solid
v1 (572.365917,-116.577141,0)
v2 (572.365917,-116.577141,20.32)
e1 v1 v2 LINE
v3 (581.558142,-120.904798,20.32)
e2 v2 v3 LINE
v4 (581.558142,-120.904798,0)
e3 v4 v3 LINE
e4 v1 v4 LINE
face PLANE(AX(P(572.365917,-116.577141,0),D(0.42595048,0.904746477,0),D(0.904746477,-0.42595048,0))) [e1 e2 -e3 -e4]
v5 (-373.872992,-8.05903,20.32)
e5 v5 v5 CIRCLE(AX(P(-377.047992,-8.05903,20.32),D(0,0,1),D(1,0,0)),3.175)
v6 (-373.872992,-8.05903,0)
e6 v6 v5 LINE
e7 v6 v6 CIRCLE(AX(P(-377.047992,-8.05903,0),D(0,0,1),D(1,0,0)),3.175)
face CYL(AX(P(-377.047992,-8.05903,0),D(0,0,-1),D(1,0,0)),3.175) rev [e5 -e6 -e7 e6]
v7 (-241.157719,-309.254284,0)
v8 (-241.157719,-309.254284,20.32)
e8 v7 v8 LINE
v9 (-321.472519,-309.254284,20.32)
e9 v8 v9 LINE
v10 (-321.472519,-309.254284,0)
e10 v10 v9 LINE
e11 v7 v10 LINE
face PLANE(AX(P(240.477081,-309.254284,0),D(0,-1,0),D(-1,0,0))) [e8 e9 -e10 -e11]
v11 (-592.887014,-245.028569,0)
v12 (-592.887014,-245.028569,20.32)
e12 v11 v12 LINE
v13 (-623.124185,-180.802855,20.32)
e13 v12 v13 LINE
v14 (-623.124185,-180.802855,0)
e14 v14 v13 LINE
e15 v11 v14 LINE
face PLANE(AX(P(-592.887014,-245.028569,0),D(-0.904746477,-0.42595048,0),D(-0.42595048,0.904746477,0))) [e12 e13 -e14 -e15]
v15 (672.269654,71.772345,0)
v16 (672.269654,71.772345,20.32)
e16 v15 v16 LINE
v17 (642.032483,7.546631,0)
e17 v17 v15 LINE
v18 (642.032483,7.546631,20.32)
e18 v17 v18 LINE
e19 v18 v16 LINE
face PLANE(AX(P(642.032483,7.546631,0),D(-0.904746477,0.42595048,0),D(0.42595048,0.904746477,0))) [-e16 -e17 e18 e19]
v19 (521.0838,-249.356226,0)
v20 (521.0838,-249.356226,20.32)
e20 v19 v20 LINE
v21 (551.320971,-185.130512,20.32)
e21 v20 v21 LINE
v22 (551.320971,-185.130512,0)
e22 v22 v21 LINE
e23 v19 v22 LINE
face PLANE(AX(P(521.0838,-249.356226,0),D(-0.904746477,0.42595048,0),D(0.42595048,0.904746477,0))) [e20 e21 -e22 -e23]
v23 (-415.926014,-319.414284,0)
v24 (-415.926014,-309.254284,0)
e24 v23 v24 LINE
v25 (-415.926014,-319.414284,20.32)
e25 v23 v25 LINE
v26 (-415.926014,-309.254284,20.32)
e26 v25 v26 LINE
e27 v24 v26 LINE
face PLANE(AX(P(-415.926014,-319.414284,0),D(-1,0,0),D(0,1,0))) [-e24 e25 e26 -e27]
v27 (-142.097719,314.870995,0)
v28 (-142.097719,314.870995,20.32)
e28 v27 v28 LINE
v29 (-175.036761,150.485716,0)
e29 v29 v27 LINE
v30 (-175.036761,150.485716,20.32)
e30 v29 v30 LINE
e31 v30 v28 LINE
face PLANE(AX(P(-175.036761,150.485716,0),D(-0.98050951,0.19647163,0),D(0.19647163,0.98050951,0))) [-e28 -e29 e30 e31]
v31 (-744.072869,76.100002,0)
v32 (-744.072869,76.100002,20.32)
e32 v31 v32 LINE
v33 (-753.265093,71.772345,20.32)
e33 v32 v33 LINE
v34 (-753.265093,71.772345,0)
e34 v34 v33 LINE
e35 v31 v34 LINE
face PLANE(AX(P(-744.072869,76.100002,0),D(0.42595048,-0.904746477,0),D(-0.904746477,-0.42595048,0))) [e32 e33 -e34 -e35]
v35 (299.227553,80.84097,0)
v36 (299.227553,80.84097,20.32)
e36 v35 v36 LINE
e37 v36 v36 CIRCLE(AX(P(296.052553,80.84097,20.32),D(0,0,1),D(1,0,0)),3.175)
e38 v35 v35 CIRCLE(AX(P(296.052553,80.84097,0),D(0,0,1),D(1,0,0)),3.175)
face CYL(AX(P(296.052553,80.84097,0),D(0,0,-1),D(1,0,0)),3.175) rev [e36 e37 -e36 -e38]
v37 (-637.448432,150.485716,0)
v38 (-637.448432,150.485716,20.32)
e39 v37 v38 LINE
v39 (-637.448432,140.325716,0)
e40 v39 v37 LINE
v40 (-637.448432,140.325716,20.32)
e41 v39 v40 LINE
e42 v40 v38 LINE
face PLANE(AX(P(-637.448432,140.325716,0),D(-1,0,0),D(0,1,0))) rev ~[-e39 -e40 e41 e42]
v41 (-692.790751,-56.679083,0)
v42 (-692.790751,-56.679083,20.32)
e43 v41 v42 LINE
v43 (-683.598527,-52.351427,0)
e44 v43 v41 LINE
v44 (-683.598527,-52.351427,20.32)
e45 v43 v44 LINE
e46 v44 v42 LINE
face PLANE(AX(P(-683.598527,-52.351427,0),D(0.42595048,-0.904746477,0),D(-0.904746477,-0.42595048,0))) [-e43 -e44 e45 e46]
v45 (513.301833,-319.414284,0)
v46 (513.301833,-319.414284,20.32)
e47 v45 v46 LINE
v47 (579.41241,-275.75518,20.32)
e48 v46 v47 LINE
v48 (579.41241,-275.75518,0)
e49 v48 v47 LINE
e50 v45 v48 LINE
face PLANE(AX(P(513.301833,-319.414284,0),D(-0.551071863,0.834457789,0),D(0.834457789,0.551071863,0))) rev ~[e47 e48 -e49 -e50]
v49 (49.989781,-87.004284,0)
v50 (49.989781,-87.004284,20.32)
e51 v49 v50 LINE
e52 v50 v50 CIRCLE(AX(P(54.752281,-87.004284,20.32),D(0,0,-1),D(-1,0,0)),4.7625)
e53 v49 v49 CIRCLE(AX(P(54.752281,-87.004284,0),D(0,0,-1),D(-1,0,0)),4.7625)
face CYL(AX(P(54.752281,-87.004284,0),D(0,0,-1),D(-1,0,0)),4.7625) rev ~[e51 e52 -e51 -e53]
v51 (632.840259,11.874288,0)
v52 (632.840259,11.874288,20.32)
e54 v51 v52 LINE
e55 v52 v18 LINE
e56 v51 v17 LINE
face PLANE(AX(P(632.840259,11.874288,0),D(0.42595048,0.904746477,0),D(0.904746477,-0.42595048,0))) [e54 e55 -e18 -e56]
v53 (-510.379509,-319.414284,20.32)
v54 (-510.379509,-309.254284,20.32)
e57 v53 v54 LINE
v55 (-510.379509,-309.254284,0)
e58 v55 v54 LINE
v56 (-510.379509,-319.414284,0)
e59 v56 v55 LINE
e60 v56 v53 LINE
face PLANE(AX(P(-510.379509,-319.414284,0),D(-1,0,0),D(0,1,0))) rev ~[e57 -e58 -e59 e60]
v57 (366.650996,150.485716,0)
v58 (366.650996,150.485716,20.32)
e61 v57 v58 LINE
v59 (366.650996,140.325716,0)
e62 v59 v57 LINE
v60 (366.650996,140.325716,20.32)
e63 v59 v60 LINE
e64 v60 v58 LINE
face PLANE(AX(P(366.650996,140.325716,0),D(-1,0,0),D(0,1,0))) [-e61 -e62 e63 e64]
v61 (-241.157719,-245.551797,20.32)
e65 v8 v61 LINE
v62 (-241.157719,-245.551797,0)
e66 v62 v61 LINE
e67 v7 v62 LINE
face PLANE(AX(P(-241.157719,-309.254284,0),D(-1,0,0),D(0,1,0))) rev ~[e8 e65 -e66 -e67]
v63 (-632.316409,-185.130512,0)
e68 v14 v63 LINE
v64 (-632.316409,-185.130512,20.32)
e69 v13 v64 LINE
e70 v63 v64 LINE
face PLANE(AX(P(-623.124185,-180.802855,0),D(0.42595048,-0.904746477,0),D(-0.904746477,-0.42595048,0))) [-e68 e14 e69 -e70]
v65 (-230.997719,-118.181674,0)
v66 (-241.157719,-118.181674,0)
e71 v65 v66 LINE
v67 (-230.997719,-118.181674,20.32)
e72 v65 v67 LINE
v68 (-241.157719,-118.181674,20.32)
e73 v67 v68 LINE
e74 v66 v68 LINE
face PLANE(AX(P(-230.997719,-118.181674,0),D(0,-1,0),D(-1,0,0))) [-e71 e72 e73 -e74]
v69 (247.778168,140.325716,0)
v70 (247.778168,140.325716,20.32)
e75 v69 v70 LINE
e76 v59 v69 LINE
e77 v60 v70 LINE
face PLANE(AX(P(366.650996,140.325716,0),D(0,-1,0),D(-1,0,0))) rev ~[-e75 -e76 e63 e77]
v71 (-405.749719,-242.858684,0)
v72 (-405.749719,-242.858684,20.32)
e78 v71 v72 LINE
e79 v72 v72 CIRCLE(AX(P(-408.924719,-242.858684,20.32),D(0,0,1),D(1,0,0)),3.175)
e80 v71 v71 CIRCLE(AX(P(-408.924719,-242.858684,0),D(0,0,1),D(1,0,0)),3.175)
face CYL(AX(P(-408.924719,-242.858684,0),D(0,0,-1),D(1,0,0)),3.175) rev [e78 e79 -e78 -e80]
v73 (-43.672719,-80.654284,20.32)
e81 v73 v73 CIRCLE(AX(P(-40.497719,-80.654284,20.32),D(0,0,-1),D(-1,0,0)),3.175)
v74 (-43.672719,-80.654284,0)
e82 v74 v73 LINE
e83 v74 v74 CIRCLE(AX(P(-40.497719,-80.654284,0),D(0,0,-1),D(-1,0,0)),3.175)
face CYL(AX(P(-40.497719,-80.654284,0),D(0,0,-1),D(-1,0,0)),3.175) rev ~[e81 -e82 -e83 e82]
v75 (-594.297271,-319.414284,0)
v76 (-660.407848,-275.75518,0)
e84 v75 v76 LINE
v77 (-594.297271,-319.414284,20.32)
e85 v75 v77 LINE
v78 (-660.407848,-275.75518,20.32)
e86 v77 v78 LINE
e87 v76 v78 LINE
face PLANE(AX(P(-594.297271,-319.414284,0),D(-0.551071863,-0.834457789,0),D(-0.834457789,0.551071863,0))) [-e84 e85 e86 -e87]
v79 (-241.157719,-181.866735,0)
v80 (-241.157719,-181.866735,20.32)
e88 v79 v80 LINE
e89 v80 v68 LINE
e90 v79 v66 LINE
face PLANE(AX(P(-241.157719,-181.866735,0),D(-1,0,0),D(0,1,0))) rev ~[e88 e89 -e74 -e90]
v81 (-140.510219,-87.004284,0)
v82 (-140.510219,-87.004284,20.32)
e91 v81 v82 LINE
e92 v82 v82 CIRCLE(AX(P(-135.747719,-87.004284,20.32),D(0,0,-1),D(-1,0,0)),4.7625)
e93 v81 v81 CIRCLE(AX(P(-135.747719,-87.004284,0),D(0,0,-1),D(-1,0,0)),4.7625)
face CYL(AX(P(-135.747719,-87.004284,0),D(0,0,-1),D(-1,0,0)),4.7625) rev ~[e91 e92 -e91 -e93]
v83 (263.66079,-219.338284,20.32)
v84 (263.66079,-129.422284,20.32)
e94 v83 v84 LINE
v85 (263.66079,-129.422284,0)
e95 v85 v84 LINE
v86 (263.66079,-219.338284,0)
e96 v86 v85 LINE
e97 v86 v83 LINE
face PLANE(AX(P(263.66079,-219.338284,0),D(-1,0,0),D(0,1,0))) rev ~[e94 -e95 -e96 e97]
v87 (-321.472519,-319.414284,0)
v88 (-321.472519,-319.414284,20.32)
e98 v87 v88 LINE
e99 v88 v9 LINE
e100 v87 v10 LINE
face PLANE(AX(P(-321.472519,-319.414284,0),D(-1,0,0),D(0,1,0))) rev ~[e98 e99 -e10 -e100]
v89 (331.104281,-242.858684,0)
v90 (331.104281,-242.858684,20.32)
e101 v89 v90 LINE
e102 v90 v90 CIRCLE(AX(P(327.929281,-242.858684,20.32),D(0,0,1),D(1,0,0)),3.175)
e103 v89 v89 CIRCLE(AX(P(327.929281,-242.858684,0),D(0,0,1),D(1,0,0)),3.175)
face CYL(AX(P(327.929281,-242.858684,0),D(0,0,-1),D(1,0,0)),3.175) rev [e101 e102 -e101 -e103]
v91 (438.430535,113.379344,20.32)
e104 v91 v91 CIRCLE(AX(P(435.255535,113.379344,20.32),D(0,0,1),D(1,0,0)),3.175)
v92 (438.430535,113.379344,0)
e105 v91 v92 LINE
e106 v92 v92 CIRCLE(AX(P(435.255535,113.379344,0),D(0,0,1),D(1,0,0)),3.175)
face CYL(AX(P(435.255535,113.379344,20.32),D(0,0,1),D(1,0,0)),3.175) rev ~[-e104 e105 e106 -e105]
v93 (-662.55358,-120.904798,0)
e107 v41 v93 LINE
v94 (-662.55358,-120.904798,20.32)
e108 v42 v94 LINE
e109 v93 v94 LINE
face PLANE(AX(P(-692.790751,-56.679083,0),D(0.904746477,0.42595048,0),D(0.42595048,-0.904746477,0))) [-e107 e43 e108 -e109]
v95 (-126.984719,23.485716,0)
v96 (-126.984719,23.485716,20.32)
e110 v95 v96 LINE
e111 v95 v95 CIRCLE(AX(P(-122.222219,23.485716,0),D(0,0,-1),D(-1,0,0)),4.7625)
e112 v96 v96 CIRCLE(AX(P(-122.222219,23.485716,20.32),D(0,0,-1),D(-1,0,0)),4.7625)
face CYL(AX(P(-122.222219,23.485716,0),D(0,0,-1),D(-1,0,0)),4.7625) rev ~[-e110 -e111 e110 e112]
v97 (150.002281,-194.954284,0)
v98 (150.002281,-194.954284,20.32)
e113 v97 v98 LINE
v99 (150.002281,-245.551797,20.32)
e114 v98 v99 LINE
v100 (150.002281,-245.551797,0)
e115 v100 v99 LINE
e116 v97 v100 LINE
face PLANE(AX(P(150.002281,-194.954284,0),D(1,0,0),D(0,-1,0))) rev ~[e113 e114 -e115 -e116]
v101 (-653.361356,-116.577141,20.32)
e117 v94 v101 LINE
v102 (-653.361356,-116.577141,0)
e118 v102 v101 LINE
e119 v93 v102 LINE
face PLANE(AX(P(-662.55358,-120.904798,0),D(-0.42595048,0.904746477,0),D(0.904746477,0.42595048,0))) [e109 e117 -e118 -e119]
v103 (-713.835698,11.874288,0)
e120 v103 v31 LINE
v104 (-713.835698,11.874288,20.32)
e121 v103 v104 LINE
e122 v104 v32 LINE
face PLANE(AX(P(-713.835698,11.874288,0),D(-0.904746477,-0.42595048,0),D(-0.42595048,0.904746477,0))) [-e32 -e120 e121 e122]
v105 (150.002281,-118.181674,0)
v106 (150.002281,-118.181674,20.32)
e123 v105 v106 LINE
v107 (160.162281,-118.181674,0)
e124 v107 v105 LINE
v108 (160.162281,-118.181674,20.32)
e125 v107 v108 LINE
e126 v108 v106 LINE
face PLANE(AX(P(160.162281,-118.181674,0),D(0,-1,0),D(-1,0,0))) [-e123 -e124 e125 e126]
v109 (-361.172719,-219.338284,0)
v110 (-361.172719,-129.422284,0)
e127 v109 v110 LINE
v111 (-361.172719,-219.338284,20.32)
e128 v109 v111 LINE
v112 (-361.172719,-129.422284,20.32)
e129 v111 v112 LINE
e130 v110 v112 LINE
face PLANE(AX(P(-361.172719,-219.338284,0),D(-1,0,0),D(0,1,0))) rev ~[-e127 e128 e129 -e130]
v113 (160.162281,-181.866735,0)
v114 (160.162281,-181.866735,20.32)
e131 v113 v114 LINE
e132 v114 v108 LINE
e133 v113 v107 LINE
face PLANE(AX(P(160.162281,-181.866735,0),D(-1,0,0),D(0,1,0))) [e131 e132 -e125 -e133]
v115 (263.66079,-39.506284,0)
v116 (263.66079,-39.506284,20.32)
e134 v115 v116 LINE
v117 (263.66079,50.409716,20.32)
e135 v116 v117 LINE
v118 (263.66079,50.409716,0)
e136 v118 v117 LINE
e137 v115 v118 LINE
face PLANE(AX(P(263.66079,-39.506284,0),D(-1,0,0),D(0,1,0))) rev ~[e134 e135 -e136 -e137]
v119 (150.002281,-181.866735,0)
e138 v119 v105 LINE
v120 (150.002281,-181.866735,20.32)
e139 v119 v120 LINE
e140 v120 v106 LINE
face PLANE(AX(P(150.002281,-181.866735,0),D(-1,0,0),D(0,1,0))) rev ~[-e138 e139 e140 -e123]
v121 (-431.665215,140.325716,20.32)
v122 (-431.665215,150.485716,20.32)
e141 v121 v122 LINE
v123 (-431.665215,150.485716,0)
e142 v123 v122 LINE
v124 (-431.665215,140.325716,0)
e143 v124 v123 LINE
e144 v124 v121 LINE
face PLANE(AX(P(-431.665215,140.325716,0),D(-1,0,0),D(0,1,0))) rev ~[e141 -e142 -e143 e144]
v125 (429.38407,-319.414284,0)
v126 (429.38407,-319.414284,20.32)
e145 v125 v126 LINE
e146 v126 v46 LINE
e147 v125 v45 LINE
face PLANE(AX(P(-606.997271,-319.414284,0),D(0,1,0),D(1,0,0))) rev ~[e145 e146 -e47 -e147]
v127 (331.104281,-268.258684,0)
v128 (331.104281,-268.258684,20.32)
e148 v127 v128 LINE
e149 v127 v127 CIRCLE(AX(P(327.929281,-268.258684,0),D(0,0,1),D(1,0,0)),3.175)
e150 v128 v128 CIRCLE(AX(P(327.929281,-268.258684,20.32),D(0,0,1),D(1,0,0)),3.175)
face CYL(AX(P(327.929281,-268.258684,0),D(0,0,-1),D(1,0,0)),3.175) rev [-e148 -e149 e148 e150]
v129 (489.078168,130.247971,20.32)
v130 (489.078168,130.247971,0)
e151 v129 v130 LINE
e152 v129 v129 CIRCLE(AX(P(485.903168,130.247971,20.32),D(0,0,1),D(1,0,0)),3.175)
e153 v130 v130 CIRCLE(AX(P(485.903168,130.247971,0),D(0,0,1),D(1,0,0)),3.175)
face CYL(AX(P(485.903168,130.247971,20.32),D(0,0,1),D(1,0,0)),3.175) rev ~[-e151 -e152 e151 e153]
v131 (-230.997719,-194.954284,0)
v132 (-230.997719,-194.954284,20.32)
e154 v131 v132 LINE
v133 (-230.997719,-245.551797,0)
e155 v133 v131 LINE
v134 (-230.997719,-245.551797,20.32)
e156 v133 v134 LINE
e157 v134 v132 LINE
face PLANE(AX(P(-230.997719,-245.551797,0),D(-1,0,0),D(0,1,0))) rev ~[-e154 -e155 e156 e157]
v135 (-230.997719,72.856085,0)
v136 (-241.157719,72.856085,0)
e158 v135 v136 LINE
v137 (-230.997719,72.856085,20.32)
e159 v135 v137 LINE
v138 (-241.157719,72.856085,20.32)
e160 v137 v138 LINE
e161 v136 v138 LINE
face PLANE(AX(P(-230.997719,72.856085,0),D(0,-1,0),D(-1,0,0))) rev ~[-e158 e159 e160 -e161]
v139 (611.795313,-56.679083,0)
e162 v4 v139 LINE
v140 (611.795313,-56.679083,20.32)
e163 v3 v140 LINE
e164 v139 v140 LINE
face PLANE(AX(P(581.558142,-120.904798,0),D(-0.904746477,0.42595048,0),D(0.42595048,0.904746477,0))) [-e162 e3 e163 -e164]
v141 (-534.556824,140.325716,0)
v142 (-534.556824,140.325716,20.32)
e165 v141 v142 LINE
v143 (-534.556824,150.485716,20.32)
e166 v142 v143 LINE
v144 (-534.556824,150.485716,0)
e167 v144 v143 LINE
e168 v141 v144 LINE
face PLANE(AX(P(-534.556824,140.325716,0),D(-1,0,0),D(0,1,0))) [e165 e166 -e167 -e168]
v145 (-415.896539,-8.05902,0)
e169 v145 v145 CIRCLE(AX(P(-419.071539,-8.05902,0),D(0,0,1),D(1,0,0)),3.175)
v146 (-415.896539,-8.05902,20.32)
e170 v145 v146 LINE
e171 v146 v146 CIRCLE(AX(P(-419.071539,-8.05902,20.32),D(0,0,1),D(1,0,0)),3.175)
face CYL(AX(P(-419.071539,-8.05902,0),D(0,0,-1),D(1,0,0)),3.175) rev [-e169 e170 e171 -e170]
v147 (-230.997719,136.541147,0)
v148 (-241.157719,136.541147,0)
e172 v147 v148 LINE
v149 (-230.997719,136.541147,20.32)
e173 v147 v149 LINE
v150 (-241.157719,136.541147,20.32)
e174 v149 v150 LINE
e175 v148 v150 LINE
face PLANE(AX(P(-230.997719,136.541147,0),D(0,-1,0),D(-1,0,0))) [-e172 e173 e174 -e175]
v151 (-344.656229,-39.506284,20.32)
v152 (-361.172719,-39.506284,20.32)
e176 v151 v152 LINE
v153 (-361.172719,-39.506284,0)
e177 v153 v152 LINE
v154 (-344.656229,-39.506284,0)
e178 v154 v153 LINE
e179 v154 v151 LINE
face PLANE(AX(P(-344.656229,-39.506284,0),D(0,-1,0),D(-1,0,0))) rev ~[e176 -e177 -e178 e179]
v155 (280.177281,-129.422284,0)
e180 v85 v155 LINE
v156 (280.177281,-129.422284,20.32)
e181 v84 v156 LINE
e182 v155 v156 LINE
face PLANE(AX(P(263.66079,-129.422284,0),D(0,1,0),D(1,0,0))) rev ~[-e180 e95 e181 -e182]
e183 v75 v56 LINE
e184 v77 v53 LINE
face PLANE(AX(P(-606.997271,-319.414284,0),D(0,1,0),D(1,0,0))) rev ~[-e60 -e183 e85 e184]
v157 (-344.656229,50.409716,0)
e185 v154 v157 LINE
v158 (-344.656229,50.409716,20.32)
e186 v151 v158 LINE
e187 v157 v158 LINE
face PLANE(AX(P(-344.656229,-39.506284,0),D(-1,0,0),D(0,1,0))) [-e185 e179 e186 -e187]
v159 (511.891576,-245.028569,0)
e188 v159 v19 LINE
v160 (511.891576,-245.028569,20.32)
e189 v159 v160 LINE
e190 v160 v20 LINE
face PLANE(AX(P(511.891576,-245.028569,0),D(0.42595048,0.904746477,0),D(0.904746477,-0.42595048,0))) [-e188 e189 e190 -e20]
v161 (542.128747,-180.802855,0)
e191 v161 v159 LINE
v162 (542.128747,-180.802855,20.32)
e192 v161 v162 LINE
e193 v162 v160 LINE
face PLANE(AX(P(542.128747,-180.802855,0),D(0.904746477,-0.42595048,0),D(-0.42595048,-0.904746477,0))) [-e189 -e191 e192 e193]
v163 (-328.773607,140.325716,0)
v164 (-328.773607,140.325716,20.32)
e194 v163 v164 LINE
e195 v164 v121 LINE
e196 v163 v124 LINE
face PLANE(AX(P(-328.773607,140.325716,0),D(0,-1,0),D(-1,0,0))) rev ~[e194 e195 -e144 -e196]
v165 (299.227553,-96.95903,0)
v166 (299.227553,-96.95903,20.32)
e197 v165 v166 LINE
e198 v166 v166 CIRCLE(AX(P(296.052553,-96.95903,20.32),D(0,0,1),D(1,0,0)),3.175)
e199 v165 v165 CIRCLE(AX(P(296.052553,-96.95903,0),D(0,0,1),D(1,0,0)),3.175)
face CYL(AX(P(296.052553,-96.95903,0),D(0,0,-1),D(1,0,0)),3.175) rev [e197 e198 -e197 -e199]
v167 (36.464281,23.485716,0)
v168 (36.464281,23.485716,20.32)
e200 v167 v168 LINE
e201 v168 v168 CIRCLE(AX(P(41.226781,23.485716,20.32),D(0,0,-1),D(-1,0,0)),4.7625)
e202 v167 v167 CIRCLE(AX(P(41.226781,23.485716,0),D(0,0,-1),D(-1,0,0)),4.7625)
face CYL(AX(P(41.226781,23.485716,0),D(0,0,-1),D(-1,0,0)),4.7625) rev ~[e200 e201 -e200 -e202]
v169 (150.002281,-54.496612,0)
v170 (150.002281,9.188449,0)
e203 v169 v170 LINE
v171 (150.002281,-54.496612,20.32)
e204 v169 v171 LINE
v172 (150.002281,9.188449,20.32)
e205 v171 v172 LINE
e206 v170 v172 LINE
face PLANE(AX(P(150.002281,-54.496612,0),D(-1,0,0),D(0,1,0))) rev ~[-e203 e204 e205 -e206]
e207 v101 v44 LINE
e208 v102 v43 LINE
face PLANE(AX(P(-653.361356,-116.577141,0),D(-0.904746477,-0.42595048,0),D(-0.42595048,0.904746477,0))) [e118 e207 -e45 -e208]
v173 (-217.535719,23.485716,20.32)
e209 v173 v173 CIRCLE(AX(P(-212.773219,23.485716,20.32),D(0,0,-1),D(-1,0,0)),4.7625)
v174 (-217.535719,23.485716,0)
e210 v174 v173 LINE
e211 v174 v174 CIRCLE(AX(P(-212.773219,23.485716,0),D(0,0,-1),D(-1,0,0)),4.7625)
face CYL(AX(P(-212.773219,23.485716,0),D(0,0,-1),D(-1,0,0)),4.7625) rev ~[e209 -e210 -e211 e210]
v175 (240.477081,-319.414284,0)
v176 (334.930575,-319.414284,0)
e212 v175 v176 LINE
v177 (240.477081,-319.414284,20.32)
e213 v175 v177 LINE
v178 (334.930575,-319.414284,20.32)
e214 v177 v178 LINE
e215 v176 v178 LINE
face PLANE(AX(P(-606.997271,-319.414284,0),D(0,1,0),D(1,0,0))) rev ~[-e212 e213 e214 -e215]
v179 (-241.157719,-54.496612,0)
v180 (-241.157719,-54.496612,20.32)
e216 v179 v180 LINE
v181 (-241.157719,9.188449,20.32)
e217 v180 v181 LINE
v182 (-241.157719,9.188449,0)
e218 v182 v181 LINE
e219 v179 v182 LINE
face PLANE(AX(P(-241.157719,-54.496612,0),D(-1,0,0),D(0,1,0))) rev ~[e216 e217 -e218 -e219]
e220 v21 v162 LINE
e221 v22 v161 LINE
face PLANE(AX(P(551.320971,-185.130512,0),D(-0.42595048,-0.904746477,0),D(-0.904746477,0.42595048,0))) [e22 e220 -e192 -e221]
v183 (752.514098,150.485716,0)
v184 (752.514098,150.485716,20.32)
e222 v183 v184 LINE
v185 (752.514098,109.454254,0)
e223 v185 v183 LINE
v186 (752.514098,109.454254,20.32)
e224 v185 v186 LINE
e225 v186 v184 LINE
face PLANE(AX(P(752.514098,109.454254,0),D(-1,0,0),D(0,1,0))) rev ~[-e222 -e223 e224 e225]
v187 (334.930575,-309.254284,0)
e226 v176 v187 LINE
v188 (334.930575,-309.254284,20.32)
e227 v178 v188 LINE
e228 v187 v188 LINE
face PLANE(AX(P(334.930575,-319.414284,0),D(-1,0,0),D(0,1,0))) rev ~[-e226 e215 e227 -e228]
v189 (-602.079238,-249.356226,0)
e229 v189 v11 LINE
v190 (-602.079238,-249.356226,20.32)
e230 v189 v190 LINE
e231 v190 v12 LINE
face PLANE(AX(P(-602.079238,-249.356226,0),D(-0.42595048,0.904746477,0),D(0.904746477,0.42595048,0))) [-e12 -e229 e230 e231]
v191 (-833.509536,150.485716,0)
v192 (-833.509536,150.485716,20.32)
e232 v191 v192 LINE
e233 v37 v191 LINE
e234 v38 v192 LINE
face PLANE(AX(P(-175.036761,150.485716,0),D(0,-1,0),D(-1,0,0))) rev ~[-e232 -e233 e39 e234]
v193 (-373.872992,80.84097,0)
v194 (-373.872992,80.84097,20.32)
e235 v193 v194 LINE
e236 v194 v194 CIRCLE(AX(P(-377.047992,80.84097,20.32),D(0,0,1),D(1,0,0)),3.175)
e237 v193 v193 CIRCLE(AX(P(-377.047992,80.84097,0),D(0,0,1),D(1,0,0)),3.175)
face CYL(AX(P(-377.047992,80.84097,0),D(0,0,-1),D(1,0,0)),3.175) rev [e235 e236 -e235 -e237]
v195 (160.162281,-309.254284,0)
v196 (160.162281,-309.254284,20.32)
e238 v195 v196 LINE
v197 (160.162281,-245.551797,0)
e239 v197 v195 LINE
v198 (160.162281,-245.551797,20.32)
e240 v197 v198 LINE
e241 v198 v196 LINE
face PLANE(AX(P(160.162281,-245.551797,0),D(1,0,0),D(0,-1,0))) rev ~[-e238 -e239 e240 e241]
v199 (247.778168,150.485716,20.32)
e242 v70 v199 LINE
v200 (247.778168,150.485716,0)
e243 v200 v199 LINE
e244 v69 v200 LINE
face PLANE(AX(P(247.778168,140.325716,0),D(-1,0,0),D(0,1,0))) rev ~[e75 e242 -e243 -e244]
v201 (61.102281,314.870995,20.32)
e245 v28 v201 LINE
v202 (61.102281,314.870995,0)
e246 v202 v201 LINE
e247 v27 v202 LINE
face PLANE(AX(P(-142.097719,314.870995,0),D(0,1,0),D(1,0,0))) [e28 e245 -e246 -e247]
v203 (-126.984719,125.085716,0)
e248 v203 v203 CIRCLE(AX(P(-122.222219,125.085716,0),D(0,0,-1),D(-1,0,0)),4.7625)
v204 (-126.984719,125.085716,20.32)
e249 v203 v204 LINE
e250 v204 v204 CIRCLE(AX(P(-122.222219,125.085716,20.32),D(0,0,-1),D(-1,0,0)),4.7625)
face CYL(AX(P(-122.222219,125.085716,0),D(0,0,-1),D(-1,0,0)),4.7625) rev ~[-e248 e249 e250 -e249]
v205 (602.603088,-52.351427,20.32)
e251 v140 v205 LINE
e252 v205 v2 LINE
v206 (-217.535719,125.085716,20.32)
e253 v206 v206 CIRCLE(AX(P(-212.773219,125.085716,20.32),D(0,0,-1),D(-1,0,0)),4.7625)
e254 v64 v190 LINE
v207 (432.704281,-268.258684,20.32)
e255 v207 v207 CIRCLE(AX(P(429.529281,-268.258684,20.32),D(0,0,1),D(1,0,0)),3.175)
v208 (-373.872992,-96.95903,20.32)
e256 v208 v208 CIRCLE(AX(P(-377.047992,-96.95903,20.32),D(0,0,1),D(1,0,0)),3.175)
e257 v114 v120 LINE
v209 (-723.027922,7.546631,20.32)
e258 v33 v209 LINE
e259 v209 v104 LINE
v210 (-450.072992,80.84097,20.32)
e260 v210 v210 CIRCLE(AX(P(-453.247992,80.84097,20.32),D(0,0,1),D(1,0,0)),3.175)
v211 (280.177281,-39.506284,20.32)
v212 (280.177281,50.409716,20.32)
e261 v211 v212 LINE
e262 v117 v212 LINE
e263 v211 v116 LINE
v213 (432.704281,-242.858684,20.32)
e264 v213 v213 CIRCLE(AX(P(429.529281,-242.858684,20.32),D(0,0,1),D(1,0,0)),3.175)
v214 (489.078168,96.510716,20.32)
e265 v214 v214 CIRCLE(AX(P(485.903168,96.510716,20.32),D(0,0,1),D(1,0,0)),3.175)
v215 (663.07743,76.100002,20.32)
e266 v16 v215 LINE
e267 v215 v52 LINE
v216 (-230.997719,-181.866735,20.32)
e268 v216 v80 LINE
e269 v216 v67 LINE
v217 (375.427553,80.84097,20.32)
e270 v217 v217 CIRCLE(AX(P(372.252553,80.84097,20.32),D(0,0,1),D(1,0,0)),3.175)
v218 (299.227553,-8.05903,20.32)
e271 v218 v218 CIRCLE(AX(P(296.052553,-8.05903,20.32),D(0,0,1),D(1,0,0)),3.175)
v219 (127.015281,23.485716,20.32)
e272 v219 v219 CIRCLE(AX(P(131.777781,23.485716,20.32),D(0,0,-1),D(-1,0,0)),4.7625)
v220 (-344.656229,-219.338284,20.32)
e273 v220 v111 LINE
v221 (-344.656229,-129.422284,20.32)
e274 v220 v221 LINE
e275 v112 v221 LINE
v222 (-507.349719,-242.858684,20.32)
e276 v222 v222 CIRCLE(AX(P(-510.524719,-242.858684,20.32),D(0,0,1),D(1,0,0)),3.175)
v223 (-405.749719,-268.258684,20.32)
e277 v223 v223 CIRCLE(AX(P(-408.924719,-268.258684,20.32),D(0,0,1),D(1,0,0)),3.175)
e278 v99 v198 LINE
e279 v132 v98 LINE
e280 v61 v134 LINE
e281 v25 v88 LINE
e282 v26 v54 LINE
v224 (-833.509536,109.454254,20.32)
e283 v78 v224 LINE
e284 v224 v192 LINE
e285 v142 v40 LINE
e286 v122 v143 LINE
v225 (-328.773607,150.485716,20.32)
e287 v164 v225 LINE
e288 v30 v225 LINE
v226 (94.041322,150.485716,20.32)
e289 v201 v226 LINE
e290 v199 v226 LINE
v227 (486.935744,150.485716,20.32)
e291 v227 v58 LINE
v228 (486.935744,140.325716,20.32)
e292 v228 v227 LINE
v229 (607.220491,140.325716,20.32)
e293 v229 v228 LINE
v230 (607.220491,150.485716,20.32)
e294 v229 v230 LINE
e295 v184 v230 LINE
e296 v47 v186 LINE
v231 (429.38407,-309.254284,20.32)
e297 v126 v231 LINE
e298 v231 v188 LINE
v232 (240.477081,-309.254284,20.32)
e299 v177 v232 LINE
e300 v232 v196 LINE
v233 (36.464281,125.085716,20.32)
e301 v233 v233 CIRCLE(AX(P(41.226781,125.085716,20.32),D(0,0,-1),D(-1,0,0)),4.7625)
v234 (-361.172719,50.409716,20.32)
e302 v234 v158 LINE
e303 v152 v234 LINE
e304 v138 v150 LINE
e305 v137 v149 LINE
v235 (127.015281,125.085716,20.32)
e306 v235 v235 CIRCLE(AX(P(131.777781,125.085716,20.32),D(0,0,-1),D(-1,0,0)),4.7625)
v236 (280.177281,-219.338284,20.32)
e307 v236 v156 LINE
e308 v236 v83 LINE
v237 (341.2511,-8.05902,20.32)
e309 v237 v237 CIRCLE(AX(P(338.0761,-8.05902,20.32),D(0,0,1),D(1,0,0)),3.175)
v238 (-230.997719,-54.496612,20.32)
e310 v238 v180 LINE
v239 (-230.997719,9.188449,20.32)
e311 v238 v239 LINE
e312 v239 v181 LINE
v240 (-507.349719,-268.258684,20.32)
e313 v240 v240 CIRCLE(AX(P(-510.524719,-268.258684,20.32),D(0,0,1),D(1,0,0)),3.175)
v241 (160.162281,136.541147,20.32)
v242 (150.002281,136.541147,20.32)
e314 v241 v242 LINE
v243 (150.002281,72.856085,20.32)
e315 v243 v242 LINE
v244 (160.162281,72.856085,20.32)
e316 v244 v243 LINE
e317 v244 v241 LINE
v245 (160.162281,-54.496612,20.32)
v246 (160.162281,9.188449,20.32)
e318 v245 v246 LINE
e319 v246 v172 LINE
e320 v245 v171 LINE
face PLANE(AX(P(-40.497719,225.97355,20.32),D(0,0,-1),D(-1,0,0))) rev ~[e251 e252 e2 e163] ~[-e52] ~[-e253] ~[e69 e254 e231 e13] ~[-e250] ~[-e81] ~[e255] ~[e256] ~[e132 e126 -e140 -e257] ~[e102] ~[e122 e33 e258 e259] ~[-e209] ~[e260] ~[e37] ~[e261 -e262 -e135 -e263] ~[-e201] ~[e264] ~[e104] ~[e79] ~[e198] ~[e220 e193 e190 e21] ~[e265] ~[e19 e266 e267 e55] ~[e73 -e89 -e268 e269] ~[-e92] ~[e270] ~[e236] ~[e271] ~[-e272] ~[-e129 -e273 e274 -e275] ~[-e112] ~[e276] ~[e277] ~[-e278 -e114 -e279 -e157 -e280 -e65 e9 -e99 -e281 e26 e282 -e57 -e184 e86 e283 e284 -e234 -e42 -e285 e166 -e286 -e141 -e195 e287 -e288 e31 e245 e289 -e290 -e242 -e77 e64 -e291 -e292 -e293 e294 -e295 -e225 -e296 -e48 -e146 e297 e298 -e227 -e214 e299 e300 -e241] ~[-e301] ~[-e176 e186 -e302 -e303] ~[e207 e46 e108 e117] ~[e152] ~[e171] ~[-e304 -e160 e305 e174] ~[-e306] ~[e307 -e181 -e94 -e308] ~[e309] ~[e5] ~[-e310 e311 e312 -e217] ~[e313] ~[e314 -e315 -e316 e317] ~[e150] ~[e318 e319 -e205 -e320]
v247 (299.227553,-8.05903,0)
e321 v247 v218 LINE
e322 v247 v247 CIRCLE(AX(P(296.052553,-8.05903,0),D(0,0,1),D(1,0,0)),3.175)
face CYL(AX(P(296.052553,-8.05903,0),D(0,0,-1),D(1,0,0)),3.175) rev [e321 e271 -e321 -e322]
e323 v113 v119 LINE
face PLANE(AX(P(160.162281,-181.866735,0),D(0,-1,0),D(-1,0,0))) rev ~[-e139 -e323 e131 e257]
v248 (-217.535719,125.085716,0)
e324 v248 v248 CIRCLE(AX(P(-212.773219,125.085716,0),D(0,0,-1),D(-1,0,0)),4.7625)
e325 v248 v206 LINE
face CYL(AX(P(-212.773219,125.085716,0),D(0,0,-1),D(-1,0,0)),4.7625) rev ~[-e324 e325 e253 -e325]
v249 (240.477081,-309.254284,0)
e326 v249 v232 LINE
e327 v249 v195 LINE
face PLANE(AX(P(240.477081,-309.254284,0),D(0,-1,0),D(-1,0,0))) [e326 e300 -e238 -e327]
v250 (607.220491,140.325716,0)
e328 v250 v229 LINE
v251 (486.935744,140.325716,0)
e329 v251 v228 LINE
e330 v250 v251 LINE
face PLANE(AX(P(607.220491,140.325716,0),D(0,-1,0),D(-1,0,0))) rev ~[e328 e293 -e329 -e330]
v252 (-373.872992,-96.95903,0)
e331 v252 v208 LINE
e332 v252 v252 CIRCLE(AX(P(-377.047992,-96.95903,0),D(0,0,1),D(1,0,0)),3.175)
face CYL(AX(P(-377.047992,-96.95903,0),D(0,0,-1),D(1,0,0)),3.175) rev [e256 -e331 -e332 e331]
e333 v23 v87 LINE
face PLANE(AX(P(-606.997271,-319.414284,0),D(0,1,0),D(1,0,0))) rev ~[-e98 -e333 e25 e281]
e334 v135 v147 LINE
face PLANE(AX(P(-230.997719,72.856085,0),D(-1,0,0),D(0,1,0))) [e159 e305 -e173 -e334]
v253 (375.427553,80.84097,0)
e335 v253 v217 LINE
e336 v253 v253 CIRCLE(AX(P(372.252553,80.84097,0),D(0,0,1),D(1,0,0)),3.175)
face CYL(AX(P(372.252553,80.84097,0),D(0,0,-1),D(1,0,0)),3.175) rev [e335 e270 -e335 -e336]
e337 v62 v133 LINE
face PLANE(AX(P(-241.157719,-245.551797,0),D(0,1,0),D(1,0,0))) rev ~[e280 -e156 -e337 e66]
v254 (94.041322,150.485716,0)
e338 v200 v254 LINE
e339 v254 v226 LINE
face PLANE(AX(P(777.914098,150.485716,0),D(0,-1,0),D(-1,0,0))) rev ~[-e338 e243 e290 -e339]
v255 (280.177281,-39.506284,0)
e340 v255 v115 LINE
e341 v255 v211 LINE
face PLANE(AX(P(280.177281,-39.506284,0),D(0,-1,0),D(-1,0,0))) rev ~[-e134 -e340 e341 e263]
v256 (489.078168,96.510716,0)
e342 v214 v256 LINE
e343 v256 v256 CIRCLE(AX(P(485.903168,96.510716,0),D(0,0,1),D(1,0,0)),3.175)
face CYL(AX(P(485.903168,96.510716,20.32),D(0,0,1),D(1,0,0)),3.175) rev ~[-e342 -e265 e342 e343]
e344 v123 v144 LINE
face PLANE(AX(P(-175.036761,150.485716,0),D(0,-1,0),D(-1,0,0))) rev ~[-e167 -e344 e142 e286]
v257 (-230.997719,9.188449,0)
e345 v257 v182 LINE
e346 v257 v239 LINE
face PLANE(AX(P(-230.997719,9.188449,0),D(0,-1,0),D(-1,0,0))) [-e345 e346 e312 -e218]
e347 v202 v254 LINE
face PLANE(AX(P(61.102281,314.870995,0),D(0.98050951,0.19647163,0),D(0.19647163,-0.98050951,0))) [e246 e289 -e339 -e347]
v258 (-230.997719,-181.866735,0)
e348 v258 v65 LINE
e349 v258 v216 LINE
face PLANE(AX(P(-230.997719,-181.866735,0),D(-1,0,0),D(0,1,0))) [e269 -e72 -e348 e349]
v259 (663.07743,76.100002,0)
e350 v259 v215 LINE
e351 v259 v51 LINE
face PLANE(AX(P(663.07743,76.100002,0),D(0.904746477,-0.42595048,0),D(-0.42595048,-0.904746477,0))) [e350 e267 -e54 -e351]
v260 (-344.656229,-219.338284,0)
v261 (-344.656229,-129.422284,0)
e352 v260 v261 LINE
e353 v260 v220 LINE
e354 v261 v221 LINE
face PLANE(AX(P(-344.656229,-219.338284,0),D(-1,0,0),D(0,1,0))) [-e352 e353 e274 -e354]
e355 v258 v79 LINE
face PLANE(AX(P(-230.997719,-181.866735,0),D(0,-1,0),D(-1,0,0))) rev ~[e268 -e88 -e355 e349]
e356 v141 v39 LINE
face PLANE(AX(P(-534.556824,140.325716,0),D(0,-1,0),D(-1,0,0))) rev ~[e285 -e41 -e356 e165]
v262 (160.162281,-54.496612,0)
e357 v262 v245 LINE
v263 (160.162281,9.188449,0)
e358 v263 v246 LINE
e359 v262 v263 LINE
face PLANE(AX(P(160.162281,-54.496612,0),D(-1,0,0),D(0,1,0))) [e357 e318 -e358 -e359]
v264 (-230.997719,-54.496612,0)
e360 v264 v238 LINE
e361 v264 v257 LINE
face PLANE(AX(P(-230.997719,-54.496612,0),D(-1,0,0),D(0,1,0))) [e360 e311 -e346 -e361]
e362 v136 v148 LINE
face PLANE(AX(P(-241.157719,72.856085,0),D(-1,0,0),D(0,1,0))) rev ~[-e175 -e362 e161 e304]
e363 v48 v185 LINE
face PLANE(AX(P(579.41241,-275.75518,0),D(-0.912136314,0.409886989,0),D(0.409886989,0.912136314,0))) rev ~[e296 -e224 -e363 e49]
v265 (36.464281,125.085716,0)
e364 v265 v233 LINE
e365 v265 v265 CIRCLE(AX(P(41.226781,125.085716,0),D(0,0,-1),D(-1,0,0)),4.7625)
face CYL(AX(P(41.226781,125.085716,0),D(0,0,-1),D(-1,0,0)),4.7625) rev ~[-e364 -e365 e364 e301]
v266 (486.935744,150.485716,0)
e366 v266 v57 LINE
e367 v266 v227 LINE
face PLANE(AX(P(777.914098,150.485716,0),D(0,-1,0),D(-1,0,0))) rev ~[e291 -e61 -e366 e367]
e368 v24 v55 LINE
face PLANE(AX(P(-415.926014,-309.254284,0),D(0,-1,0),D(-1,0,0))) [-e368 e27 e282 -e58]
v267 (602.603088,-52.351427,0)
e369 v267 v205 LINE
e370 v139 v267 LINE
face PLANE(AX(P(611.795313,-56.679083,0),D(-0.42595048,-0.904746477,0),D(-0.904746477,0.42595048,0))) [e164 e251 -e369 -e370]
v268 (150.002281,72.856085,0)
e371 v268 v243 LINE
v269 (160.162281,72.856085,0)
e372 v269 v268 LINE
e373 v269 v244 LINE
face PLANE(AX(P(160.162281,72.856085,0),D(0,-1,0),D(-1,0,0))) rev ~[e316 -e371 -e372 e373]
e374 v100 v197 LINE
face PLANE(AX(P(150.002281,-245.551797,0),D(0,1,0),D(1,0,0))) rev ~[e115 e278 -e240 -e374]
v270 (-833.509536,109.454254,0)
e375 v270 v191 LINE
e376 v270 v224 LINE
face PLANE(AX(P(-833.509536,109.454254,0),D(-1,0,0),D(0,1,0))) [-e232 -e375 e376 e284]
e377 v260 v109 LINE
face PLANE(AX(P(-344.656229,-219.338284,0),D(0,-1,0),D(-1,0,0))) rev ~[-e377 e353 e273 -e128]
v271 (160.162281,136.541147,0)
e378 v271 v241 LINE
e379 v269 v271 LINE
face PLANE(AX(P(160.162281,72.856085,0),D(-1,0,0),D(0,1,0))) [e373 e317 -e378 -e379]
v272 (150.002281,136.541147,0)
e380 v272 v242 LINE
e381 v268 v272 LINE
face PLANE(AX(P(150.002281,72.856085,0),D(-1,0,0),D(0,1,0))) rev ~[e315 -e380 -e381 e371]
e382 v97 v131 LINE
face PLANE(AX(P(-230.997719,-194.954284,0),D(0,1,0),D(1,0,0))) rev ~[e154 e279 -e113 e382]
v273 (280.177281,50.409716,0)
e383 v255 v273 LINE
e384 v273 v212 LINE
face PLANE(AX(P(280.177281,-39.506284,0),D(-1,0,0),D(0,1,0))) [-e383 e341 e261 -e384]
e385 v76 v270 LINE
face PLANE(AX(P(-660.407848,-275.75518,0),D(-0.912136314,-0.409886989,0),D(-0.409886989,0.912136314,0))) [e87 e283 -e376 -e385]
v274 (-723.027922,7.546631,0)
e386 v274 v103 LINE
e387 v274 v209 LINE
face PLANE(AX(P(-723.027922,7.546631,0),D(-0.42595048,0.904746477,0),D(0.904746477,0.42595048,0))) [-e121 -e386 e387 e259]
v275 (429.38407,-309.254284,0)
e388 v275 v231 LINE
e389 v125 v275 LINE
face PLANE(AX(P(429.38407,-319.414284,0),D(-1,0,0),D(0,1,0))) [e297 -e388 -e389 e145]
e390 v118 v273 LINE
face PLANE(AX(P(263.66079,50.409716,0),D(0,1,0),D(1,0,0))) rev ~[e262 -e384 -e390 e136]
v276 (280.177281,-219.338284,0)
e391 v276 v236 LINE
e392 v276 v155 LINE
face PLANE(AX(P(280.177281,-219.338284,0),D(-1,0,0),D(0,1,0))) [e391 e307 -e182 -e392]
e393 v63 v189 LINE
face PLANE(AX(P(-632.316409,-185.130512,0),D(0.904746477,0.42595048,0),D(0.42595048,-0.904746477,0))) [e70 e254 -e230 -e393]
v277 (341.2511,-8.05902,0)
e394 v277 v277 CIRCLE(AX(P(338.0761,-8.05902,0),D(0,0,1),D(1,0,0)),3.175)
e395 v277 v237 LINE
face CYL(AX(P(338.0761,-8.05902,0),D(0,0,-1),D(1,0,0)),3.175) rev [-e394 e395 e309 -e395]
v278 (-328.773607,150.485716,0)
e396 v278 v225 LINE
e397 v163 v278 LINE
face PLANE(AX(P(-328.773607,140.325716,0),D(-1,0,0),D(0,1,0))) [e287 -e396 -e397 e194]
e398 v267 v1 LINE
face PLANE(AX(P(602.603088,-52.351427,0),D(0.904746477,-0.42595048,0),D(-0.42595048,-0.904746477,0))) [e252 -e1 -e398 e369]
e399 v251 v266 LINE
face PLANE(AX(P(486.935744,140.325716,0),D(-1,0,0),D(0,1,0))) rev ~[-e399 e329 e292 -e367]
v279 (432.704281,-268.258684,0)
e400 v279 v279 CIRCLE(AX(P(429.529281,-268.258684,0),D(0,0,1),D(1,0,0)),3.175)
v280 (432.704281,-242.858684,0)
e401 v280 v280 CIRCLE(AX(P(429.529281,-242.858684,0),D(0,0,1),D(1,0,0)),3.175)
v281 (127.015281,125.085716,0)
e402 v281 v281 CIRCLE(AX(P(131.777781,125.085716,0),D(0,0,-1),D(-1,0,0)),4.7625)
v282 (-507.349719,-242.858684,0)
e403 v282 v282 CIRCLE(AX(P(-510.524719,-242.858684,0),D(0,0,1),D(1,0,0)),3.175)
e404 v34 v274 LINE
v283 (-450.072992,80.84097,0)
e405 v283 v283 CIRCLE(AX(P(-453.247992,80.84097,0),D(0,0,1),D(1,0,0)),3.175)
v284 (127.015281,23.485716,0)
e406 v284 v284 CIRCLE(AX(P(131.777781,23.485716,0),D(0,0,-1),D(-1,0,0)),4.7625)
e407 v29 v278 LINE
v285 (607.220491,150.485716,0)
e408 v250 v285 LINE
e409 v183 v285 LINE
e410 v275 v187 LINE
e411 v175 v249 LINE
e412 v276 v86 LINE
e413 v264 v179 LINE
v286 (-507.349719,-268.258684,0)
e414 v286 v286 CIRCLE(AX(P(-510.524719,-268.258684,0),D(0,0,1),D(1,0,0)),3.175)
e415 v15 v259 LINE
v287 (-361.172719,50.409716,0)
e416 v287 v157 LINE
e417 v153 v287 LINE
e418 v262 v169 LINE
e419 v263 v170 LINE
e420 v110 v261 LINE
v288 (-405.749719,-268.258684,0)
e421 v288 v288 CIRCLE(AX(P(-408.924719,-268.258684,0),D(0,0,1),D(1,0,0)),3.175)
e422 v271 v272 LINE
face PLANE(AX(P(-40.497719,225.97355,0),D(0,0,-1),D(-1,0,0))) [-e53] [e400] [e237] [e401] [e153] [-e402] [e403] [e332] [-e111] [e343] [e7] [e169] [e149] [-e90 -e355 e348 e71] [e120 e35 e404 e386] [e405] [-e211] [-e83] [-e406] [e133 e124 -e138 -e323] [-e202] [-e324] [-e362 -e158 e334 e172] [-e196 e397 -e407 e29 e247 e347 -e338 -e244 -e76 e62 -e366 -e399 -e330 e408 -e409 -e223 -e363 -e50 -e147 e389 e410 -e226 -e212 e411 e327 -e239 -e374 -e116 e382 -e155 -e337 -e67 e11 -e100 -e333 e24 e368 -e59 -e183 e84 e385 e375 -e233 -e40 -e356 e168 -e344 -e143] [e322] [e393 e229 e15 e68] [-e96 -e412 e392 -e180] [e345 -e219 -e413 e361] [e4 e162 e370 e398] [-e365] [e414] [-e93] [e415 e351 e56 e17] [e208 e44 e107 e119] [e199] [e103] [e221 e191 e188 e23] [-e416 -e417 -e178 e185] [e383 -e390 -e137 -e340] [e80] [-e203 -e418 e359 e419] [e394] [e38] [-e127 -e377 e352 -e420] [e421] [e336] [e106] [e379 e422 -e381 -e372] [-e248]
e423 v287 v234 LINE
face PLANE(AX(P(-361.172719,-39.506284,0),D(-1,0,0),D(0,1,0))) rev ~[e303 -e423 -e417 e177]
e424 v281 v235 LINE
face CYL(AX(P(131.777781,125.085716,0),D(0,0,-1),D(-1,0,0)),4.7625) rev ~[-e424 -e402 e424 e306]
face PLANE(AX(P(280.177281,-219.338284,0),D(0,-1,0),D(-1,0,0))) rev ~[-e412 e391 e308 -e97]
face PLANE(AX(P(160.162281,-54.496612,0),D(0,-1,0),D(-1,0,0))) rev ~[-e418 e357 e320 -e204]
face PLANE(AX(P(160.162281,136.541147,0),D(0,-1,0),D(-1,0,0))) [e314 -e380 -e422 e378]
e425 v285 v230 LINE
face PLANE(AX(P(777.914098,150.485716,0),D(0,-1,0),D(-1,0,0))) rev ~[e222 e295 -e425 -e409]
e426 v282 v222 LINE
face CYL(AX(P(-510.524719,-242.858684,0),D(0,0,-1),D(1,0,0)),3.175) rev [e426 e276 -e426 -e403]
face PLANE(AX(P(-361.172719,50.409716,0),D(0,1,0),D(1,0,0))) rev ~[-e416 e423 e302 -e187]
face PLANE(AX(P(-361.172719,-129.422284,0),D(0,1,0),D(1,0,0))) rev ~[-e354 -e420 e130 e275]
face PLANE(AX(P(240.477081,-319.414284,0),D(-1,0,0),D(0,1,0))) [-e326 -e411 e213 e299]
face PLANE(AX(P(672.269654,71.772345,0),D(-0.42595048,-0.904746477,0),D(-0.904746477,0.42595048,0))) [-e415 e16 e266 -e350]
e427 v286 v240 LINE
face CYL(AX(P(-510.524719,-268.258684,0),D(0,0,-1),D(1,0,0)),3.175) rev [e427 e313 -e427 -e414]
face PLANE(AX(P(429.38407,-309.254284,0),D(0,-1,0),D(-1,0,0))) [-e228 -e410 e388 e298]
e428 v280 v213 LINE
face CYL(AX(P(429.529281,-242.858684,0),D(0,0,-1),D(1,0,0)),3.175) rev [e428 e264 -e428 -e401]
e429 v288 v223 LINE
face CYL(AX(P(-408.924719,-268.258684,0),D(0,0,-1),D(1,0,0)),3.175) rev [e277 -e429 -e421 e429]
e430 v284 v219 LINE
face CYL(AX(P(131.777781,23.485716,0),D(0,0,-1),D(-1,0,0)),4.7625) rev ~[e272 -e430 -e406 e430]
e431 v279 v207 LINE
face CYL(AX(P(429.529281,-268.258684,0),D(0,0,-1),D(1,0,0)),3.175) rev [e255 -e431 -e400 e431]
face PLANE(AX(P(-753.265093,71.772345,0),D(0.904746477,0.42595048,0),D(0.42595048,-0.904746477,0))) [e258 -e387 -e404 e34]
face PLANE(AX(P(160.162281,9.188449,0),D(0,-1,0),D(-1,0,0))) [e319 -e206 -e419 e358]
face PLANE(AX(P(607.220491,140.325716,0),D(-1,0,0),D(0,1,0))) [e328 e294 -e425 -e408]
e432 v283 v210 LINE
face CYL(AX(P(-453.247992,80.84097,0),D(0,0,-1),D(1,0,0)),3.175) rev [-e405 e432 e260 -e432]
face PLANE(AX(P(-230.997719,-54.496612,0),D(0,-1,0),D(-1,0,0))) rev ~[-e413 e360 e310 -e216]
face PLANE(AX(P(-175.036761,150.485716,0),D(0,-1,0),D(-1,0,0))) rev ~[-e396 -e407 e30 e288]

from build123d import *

# Parameters (mm, degrees)
BOSS_EXTRUDE1_DEPTH = 20.32
SKETCH2_W           = 120.284747719
SKETCH2_H           = 10.16
SKETCH2_W_2         = 118.872828106
SKETCH2_W_3         = 10.166490401
SKETCH2_H_2         = 89.916
SKETCH2_W_4         = 102.891608588
SKETCH2_W_5         = 94.453494603
SKETCH2_W_6         = 94.453494602
SKETCH2_W_7         = 3.175
SKETCH2_W_8         = 561.9496
CUT_EXTRUDE1_DEPTH  = 137.414
SKETCH3_W           = 337.058
SKETCH3_H           = 124.46
CUT_EXTRUDE2_DEPTH  = 137.414
SKETCH4_W           = 10.16
SKETCH4_H           = 63.685061479
SKETCH4_H_2         = 63.685061478
CUT_EXTRUDE3_DEPTH  = 20.32
SKETCH10_R          = 3.175
CUT_EXTRUDE5_DEPTH  = 20.32
SKETCH12_R          = 4.7625
CUT_EXTRUDE6_DEPTH  = 21.3200001
SKETCH14_R          = 3.175
CUT_EXTRUDE7_DEPTH  = 21.3200001
SKETCH15_R          = 4.7625
SKETCH15_R_2        = 3.175
CUT_EXTRUDE8_DEPTH  = 21.3200001
CUT_EXTRUDE9_DEPTH  = 21.3200001


with BuildPart() as part:
    # Sketch1 → Boss-Extrude1 (new body)
    with BuildSketch(Plane.XY):
        Polygon((94.041322477, 150.485716341), (-175.036761108, 150.485716341), (-142.097719316, 314.8709952), (61.102280684, 314.8709952), align=None)
        with BuildLine():
            Line((-606.997271248, -319.414283659), (526.001832617, -319.414283659))
            add(Edge.make_bspline(
                [(583.362059287, -282.457957765), (581.029219579, -287.649310181), (577.879080401, -292.734699958), (570.038270446, -301.965622016), (565.348976837, -306.100497209), (554.949172694, -312.800933616), (549.248266441, -315.360306939), (537.611112797, -318.678742027), (531.685117348, -319.440968422), (526.001832617, -319.414283659)],
                knots=[0, 0, 0, 0, 0.25, 0.25, 0.5, 0.5, 0.75, 0.75, 1, 1, 1, 1], degree=3))
            Line((583.362059287, -282.457957765), (777.91409763, 150.485716341))
            Line((777.91409763, 150.485716341), (-858.909536262, 150.485716341))
            Line((-858.909536262, 150.485716341), (-664.600308277, -281.91762311))
            add(Edge.make_bspline(
                [(-664.600308277, -281.91762311), (-662.275037436, -287.157802838), (-659.126015856, -292.295113907), (-651.27178065, -301.630322109), (-646.567903812, -305.817478055), (-636.124076479, -312.615880857), (-630.393770919, -315.220849348), (-618.687590773, -318.618481158), (-612.722057732, -319.414283659), (-606.997271248, -319.414283659)],
                knots=[0, 0, 0, 0, 0.25, 0.25, 0.5, 0.5, 0.75, 0.75, 1, 1, 1, 1], degree=3))
        make_face()
    extrude(amount=BOSS_EXTRUDE1_DEPTH)

    # Sketch2 → Cut-Extrude1 (cut)
    with BuildSketch(Plane(origin=(0, 0, 0), x_dir=(-1, 0, 0), z_dir=(0, 0, -1))):
        with Locations((-547.078117621, 145.405716341)):
            Rectangle(SKETCH2_W, SKETCH2_H)
        with Locations((-307.214581989, 145.405716341)):
            Rectangle(SKETCH2_W_2, SKETCH2_H)
        with Locations((-271.919035422, 5.451716341)):
            Rectangle(SKETCH2_W_3, SKETCH2_H_2)
        with Locations((-271.919035422, -174.380283659)):
            Rectangle(SKETCH2_W_3, SKETCH2_H_2)
        with Locations((352.914474055, -174.380283659)):
            Rectangle(SKETCH2_W_3, SKETCH2_H_2)
        with Locations((352.914474055, 5.451716341)):
            Rectangle(SKETCH2_W_3, SKETCH2_H_2)
        with Locations((380.219410862, 145.405716341)):
            Rectangle(SKETCH2_W_4, SKETCH2_H)
        with Locations((586.002628038, 145.405716341)):
            Rectangle(SKETCH2_W_4, SKETCH2_H)
        with Locations((-382.157322588, -314.334283659)):
            Rectangle(SKETCH2_W_5, SKETCH2_H)
        with Locations((463.152761219, -314.334283659)):
            Rectangle(SKETCH2_W_6, SKETCH2_H)
        with Locations((-278.589780623, -174.380283659)):
            Rectangle(SKETCH2_W_7, SKETCH2_H_2)
        with Locations((-265.248290222, -174.380283659)):
            Rectangle(SKETCH2_W_7, SKETCH2_H_2)
        with Locations((-278.589780623, 5.451716341)):
            Rectangle(SKETCH2_W_7, SKETCH2_H_2)
        with Locations((-265.248290222, 5.451716341)):
            Rectangle(SKETCH2_W_7, SKETCH2_H_2)
        with Locations((346.243728854, 5.451716341)):
            Rectangle(SKETCH2_W_7, SKETCH2_H_2)
        with Locations((359.585219255, 5.451716341)):
            Rectangle(SKETCH2_W_7, SKETCH2_H_2)
        with Locations((346.243728854, -174.380283659)):
            Rectangle(SKETCH2_W_7, SKETCH2_H_2)
        with Locations((359.585219255, -174.380283659)):
            Rectangle(SKETCH2_W_7, SKETCH2_H_2)
        with Locations((40.497719316, -314.334283659)):
            Rectangle(SKETCH2_W_8, SKETCH2_H)
    extrude(amount=-CUT_EXTRUDE1_DEPTH, mode=Mode.SUBTRACT)

    # Sketch3 → Cut-Extrude2 (cut)
    with BuildSketch(Plane.XY.offset(20.32)):
        with Locations((-40.497719316, -257.184283659)):
            Rectangle(SKETCH3_W, SKETCH3_H)
    extrude(amount=-CUT_EXTRUDE2_DEPTH, mode=Mode.SUBTRACT)

    # Sketch4 → Cut-Extrude3 (cut)
    with BuildSketch(Plane(origin=(0, 0, 0), x_dir=(-1, 0, 0), z_dir=(0, 0, -1))):
        Polygon((-160.162280684, -245.551796758), (-160.162280684, -309.254283659), (-128.031280684, -309.254283659), (-128.031280684, -194.954283659), (-150.002280684, -194.954283659), (-150.002280684, -245.551796758), align=None)
        Polygon((241.157719316, -309.254283659), (241.157719316, -245.551796758), (230.997719316, -245.551796758), (230.997719316, -194.954283659), (209.026719316, -194.954283659), (209.026719316, -309.254283659), align=None)
        with Locations((-155.082280684, -150.02420454)):
            Rectangle(SKETCH4_W, SKETCH4_H)
        with Locations((-155.082280684, -22.654081584)):
            Rectangle(SKETCH4_W, SKETCH4_H)
        with Locations((-155.082280684, 104.698615951)):
            Rectangle(SKETCH4_W, SKETCH4_H_2)
        with Locations((236.077719316, -150.02420454)):
            Rectangle(SKETCH4_W, SKETCH4_H)
        with Locations((236.077719316, -22.654081584)):
            Rectangle(SKETCH4_W, SKETCH4_H)
        with Locations((236.077719316, 104.698615951)):
            Rectangle(SKETCH4_W, SKETCH4_H_2)
    extrude(amount=-CUT_EXTRUDE3_DEPTH, mode=Mode.SUBTRACT)

    # Sketch10 → Cut-Extrude5 (cut)
    with BuildSketch(Plane.XY):
        with Locations((372.252552874, 80.840970313)):
            Circle(SKETCH10_R)
        with Locations((296.052552874, 80.840970313)):
            Circle(SKETCH10_R)
        with Locations((296.052552874, -8.059029687)):
            Circle(SKETCH10_R)
        with Locations((338.076100273, -8.059019539)):
            Circle(SKETCH10_R)
        with Locations((296.052552874, -96.959029687)):
            Circle(SKETCH10_R)
        with Locations((327.929280684, -242.858683659)):
            Circle(SKETCH10_R)
        with Locations((327.929280684, -268.258683659)):
            Circle(SKETCH10_R)
        with Locations((429.529280684, -268.258683659)):
            Circle(SKETCH10_R)
        with Locations((429.529280684, -242.858683659)):
            Circle(SKETCH10_R)
        with Locations((-510.524719316, -242.858683659)):
            Circle(SKETCH10_R)
        with Locations((-510.524719316, -268.258683659)):
            Circle(SKETCH10_R)
        with Locations((-408.924719316, -268.258683659)):
            Circle(SKETCH10_R)
        with Locations((-408.924719316, -242.858683659)):
            Circle(SKETCH10_R)
        with Locations((-377.047991505, -96.959029687)):
            Circle(SKETCH10_R)
        with Locations((-419.071538905, -8.059019539)):
            Circle(SKETCH10_R)
        with Locations((-377.047991505, -8.059029687)):
            Circle(SKETCH10_R)
        with Locations((-377.047991505, 80.840970313)):
            Circle(SKETCH10_R)
        with Locations((-453.247991505, 80.840970313)):
            Circle(SKETCH10_R)
    extrude(amount=CUT_EXTRUDE5_DEPTH, mode=Mode.SUBTRACT)

    # Sketch12 → Cut-Extrude6 (cut, through all)
    with BuildSketch(Plane(origin=(0, 0, 0), x_dir=(-1, 0, 0), z_dir=(0, 0, -1))):
        with Locations((-41.226780684, 125.085716341)):
            Circle(SKETCH12_R)
        with Locations((-41.226780684, 23.485716341)):
            Circle(SKETCH12_R)
        with Locations((-131.777780684, 23.485716341)):
            Circle(SKETCH12_R)
        with Locations((-131.777780684, 125.085716341)):
            Circle(SKETCH12_R)
        with Locations((212.773219316, 23.485716341)):
            Circle(SKETCH12_R)
        with Locations((212.773219316, 125.085716341)):
            Circle(SKETCH12_R)
        with Locations((122.222219316, 125.085716341)):
            Circle(SKETCH12_R)
        with Locations((122.222219316, 23.485716341)):
            Circle(SKETCH12_R)
    extrude(amount=-CUT_EXTRUDE6_DEPTH, mode=Mode.SUBTRACT)

    # Sketch14 → Cut-Extrude7 (cut, through all)
    with BuildSketch(Plane.XY.offset(20.32)):
        with Locations((435.255534848, 113.379343598)):
            Circle(SKETCH14_R)
        with Locations((485.903167936, 96.510716341)):
            Circle(SKETCH14_R)
        with Locations((485.903167936, 130.247970855)):
            Circle(SKETCH14_R)
    extrude(amount=-CUT_EXTRUDE7_DEPTH, mode=Mode.SUBTRACT)

    # Sketch15 → Cut-Extrude8 (cut, through all)
    with BuildSketch(Plane(origin=(0, 0, 0), x_dir=(-1, 0, 0), z_dir=(0, 0, -1))):
        with Locations((-54.752280684, -87.004283659)):
            Circle(SKETCH15_R)
        with Locations((135.747719316, -87.004283659)):
            Circle(SKETCH15_R)
        with Locations((40.497719316, -80.654283659)):
            Circle(SKETCH15_R_2)
    extrude(amount=-CUT_EXTRUDE8_DEPTH, mode=Mode.SUBTRACT)

    # Sketch16 → Cut-Extrude9 (cut, through all)
    with BuildSketch(Plane(origin=(0, 0, 0), x_dir=(-1, 0, 0), z_dir=(0, 0, -1))):
        Polygon((602.079238464, -249.356226254), (592.887014254, -245.028569373), (623.124185153, -180.802855087), (632.316409363, -185.130511968), align=None)
        Polygon((662.553580262, -120.904797683), (653.361356052, -116.577140802), (683.598526952, -52.351426516), (692.790751161, -56.679083397), align=None)
        Polygon((723.027922061, 7.546630889), (713.835697851, 11.87428777), (744.07286875, 76.100002056), (753.26509296, 71.772345174), align=None)
        Polygon((594.297271248, -319.414283659), (660.407848466, -275.75518023), (833.509536262, 109.454254463), (833.509536262, 150.485716341), (853.117470666, 153.088498724), (880.087987184, 153.088498724), (670.30731137, -269.21762311), (671.822506806, -327.097732355), (581.920341153, -337.589747111), align=None)
        Polygon((-752.51409763, 150.485716341), (-772.122032035, 153.088498724), (-799.092548552, 153.088498724), (-589.311872738, -269.21762311), (-590.827068174, -327.097732355), (-500.924902522, -337.589747111), (-513.301832617, -319.414283659), (-579.412409834, -275.75518023), (-752.51409763, 109.454254463), align=None)
        Polygon((-672.269654328, 71.772345174), (-663.077430118, 76.100002056), (-632.840259219, 11.87428777), (-642.032483429, 7.546630889), align=None)
        Polygon((-581.55814163, -120.904797683), (-611.795312529, -56.679083397), (-602.60308832, -52.351426516), (-572.365917421, -116.577140802), align=None)
        Polygon((-551.320970731, -185.130511968), (-542.128746521, -180.802855087), (-511.891575622, -245.028569373), (-521.083799832, -249.356226254), align=None)
    extrude(amount=-CUT_EXTRUDE9_DEPTH, mode=Mode.SUBTRACT)


solid = part.part
